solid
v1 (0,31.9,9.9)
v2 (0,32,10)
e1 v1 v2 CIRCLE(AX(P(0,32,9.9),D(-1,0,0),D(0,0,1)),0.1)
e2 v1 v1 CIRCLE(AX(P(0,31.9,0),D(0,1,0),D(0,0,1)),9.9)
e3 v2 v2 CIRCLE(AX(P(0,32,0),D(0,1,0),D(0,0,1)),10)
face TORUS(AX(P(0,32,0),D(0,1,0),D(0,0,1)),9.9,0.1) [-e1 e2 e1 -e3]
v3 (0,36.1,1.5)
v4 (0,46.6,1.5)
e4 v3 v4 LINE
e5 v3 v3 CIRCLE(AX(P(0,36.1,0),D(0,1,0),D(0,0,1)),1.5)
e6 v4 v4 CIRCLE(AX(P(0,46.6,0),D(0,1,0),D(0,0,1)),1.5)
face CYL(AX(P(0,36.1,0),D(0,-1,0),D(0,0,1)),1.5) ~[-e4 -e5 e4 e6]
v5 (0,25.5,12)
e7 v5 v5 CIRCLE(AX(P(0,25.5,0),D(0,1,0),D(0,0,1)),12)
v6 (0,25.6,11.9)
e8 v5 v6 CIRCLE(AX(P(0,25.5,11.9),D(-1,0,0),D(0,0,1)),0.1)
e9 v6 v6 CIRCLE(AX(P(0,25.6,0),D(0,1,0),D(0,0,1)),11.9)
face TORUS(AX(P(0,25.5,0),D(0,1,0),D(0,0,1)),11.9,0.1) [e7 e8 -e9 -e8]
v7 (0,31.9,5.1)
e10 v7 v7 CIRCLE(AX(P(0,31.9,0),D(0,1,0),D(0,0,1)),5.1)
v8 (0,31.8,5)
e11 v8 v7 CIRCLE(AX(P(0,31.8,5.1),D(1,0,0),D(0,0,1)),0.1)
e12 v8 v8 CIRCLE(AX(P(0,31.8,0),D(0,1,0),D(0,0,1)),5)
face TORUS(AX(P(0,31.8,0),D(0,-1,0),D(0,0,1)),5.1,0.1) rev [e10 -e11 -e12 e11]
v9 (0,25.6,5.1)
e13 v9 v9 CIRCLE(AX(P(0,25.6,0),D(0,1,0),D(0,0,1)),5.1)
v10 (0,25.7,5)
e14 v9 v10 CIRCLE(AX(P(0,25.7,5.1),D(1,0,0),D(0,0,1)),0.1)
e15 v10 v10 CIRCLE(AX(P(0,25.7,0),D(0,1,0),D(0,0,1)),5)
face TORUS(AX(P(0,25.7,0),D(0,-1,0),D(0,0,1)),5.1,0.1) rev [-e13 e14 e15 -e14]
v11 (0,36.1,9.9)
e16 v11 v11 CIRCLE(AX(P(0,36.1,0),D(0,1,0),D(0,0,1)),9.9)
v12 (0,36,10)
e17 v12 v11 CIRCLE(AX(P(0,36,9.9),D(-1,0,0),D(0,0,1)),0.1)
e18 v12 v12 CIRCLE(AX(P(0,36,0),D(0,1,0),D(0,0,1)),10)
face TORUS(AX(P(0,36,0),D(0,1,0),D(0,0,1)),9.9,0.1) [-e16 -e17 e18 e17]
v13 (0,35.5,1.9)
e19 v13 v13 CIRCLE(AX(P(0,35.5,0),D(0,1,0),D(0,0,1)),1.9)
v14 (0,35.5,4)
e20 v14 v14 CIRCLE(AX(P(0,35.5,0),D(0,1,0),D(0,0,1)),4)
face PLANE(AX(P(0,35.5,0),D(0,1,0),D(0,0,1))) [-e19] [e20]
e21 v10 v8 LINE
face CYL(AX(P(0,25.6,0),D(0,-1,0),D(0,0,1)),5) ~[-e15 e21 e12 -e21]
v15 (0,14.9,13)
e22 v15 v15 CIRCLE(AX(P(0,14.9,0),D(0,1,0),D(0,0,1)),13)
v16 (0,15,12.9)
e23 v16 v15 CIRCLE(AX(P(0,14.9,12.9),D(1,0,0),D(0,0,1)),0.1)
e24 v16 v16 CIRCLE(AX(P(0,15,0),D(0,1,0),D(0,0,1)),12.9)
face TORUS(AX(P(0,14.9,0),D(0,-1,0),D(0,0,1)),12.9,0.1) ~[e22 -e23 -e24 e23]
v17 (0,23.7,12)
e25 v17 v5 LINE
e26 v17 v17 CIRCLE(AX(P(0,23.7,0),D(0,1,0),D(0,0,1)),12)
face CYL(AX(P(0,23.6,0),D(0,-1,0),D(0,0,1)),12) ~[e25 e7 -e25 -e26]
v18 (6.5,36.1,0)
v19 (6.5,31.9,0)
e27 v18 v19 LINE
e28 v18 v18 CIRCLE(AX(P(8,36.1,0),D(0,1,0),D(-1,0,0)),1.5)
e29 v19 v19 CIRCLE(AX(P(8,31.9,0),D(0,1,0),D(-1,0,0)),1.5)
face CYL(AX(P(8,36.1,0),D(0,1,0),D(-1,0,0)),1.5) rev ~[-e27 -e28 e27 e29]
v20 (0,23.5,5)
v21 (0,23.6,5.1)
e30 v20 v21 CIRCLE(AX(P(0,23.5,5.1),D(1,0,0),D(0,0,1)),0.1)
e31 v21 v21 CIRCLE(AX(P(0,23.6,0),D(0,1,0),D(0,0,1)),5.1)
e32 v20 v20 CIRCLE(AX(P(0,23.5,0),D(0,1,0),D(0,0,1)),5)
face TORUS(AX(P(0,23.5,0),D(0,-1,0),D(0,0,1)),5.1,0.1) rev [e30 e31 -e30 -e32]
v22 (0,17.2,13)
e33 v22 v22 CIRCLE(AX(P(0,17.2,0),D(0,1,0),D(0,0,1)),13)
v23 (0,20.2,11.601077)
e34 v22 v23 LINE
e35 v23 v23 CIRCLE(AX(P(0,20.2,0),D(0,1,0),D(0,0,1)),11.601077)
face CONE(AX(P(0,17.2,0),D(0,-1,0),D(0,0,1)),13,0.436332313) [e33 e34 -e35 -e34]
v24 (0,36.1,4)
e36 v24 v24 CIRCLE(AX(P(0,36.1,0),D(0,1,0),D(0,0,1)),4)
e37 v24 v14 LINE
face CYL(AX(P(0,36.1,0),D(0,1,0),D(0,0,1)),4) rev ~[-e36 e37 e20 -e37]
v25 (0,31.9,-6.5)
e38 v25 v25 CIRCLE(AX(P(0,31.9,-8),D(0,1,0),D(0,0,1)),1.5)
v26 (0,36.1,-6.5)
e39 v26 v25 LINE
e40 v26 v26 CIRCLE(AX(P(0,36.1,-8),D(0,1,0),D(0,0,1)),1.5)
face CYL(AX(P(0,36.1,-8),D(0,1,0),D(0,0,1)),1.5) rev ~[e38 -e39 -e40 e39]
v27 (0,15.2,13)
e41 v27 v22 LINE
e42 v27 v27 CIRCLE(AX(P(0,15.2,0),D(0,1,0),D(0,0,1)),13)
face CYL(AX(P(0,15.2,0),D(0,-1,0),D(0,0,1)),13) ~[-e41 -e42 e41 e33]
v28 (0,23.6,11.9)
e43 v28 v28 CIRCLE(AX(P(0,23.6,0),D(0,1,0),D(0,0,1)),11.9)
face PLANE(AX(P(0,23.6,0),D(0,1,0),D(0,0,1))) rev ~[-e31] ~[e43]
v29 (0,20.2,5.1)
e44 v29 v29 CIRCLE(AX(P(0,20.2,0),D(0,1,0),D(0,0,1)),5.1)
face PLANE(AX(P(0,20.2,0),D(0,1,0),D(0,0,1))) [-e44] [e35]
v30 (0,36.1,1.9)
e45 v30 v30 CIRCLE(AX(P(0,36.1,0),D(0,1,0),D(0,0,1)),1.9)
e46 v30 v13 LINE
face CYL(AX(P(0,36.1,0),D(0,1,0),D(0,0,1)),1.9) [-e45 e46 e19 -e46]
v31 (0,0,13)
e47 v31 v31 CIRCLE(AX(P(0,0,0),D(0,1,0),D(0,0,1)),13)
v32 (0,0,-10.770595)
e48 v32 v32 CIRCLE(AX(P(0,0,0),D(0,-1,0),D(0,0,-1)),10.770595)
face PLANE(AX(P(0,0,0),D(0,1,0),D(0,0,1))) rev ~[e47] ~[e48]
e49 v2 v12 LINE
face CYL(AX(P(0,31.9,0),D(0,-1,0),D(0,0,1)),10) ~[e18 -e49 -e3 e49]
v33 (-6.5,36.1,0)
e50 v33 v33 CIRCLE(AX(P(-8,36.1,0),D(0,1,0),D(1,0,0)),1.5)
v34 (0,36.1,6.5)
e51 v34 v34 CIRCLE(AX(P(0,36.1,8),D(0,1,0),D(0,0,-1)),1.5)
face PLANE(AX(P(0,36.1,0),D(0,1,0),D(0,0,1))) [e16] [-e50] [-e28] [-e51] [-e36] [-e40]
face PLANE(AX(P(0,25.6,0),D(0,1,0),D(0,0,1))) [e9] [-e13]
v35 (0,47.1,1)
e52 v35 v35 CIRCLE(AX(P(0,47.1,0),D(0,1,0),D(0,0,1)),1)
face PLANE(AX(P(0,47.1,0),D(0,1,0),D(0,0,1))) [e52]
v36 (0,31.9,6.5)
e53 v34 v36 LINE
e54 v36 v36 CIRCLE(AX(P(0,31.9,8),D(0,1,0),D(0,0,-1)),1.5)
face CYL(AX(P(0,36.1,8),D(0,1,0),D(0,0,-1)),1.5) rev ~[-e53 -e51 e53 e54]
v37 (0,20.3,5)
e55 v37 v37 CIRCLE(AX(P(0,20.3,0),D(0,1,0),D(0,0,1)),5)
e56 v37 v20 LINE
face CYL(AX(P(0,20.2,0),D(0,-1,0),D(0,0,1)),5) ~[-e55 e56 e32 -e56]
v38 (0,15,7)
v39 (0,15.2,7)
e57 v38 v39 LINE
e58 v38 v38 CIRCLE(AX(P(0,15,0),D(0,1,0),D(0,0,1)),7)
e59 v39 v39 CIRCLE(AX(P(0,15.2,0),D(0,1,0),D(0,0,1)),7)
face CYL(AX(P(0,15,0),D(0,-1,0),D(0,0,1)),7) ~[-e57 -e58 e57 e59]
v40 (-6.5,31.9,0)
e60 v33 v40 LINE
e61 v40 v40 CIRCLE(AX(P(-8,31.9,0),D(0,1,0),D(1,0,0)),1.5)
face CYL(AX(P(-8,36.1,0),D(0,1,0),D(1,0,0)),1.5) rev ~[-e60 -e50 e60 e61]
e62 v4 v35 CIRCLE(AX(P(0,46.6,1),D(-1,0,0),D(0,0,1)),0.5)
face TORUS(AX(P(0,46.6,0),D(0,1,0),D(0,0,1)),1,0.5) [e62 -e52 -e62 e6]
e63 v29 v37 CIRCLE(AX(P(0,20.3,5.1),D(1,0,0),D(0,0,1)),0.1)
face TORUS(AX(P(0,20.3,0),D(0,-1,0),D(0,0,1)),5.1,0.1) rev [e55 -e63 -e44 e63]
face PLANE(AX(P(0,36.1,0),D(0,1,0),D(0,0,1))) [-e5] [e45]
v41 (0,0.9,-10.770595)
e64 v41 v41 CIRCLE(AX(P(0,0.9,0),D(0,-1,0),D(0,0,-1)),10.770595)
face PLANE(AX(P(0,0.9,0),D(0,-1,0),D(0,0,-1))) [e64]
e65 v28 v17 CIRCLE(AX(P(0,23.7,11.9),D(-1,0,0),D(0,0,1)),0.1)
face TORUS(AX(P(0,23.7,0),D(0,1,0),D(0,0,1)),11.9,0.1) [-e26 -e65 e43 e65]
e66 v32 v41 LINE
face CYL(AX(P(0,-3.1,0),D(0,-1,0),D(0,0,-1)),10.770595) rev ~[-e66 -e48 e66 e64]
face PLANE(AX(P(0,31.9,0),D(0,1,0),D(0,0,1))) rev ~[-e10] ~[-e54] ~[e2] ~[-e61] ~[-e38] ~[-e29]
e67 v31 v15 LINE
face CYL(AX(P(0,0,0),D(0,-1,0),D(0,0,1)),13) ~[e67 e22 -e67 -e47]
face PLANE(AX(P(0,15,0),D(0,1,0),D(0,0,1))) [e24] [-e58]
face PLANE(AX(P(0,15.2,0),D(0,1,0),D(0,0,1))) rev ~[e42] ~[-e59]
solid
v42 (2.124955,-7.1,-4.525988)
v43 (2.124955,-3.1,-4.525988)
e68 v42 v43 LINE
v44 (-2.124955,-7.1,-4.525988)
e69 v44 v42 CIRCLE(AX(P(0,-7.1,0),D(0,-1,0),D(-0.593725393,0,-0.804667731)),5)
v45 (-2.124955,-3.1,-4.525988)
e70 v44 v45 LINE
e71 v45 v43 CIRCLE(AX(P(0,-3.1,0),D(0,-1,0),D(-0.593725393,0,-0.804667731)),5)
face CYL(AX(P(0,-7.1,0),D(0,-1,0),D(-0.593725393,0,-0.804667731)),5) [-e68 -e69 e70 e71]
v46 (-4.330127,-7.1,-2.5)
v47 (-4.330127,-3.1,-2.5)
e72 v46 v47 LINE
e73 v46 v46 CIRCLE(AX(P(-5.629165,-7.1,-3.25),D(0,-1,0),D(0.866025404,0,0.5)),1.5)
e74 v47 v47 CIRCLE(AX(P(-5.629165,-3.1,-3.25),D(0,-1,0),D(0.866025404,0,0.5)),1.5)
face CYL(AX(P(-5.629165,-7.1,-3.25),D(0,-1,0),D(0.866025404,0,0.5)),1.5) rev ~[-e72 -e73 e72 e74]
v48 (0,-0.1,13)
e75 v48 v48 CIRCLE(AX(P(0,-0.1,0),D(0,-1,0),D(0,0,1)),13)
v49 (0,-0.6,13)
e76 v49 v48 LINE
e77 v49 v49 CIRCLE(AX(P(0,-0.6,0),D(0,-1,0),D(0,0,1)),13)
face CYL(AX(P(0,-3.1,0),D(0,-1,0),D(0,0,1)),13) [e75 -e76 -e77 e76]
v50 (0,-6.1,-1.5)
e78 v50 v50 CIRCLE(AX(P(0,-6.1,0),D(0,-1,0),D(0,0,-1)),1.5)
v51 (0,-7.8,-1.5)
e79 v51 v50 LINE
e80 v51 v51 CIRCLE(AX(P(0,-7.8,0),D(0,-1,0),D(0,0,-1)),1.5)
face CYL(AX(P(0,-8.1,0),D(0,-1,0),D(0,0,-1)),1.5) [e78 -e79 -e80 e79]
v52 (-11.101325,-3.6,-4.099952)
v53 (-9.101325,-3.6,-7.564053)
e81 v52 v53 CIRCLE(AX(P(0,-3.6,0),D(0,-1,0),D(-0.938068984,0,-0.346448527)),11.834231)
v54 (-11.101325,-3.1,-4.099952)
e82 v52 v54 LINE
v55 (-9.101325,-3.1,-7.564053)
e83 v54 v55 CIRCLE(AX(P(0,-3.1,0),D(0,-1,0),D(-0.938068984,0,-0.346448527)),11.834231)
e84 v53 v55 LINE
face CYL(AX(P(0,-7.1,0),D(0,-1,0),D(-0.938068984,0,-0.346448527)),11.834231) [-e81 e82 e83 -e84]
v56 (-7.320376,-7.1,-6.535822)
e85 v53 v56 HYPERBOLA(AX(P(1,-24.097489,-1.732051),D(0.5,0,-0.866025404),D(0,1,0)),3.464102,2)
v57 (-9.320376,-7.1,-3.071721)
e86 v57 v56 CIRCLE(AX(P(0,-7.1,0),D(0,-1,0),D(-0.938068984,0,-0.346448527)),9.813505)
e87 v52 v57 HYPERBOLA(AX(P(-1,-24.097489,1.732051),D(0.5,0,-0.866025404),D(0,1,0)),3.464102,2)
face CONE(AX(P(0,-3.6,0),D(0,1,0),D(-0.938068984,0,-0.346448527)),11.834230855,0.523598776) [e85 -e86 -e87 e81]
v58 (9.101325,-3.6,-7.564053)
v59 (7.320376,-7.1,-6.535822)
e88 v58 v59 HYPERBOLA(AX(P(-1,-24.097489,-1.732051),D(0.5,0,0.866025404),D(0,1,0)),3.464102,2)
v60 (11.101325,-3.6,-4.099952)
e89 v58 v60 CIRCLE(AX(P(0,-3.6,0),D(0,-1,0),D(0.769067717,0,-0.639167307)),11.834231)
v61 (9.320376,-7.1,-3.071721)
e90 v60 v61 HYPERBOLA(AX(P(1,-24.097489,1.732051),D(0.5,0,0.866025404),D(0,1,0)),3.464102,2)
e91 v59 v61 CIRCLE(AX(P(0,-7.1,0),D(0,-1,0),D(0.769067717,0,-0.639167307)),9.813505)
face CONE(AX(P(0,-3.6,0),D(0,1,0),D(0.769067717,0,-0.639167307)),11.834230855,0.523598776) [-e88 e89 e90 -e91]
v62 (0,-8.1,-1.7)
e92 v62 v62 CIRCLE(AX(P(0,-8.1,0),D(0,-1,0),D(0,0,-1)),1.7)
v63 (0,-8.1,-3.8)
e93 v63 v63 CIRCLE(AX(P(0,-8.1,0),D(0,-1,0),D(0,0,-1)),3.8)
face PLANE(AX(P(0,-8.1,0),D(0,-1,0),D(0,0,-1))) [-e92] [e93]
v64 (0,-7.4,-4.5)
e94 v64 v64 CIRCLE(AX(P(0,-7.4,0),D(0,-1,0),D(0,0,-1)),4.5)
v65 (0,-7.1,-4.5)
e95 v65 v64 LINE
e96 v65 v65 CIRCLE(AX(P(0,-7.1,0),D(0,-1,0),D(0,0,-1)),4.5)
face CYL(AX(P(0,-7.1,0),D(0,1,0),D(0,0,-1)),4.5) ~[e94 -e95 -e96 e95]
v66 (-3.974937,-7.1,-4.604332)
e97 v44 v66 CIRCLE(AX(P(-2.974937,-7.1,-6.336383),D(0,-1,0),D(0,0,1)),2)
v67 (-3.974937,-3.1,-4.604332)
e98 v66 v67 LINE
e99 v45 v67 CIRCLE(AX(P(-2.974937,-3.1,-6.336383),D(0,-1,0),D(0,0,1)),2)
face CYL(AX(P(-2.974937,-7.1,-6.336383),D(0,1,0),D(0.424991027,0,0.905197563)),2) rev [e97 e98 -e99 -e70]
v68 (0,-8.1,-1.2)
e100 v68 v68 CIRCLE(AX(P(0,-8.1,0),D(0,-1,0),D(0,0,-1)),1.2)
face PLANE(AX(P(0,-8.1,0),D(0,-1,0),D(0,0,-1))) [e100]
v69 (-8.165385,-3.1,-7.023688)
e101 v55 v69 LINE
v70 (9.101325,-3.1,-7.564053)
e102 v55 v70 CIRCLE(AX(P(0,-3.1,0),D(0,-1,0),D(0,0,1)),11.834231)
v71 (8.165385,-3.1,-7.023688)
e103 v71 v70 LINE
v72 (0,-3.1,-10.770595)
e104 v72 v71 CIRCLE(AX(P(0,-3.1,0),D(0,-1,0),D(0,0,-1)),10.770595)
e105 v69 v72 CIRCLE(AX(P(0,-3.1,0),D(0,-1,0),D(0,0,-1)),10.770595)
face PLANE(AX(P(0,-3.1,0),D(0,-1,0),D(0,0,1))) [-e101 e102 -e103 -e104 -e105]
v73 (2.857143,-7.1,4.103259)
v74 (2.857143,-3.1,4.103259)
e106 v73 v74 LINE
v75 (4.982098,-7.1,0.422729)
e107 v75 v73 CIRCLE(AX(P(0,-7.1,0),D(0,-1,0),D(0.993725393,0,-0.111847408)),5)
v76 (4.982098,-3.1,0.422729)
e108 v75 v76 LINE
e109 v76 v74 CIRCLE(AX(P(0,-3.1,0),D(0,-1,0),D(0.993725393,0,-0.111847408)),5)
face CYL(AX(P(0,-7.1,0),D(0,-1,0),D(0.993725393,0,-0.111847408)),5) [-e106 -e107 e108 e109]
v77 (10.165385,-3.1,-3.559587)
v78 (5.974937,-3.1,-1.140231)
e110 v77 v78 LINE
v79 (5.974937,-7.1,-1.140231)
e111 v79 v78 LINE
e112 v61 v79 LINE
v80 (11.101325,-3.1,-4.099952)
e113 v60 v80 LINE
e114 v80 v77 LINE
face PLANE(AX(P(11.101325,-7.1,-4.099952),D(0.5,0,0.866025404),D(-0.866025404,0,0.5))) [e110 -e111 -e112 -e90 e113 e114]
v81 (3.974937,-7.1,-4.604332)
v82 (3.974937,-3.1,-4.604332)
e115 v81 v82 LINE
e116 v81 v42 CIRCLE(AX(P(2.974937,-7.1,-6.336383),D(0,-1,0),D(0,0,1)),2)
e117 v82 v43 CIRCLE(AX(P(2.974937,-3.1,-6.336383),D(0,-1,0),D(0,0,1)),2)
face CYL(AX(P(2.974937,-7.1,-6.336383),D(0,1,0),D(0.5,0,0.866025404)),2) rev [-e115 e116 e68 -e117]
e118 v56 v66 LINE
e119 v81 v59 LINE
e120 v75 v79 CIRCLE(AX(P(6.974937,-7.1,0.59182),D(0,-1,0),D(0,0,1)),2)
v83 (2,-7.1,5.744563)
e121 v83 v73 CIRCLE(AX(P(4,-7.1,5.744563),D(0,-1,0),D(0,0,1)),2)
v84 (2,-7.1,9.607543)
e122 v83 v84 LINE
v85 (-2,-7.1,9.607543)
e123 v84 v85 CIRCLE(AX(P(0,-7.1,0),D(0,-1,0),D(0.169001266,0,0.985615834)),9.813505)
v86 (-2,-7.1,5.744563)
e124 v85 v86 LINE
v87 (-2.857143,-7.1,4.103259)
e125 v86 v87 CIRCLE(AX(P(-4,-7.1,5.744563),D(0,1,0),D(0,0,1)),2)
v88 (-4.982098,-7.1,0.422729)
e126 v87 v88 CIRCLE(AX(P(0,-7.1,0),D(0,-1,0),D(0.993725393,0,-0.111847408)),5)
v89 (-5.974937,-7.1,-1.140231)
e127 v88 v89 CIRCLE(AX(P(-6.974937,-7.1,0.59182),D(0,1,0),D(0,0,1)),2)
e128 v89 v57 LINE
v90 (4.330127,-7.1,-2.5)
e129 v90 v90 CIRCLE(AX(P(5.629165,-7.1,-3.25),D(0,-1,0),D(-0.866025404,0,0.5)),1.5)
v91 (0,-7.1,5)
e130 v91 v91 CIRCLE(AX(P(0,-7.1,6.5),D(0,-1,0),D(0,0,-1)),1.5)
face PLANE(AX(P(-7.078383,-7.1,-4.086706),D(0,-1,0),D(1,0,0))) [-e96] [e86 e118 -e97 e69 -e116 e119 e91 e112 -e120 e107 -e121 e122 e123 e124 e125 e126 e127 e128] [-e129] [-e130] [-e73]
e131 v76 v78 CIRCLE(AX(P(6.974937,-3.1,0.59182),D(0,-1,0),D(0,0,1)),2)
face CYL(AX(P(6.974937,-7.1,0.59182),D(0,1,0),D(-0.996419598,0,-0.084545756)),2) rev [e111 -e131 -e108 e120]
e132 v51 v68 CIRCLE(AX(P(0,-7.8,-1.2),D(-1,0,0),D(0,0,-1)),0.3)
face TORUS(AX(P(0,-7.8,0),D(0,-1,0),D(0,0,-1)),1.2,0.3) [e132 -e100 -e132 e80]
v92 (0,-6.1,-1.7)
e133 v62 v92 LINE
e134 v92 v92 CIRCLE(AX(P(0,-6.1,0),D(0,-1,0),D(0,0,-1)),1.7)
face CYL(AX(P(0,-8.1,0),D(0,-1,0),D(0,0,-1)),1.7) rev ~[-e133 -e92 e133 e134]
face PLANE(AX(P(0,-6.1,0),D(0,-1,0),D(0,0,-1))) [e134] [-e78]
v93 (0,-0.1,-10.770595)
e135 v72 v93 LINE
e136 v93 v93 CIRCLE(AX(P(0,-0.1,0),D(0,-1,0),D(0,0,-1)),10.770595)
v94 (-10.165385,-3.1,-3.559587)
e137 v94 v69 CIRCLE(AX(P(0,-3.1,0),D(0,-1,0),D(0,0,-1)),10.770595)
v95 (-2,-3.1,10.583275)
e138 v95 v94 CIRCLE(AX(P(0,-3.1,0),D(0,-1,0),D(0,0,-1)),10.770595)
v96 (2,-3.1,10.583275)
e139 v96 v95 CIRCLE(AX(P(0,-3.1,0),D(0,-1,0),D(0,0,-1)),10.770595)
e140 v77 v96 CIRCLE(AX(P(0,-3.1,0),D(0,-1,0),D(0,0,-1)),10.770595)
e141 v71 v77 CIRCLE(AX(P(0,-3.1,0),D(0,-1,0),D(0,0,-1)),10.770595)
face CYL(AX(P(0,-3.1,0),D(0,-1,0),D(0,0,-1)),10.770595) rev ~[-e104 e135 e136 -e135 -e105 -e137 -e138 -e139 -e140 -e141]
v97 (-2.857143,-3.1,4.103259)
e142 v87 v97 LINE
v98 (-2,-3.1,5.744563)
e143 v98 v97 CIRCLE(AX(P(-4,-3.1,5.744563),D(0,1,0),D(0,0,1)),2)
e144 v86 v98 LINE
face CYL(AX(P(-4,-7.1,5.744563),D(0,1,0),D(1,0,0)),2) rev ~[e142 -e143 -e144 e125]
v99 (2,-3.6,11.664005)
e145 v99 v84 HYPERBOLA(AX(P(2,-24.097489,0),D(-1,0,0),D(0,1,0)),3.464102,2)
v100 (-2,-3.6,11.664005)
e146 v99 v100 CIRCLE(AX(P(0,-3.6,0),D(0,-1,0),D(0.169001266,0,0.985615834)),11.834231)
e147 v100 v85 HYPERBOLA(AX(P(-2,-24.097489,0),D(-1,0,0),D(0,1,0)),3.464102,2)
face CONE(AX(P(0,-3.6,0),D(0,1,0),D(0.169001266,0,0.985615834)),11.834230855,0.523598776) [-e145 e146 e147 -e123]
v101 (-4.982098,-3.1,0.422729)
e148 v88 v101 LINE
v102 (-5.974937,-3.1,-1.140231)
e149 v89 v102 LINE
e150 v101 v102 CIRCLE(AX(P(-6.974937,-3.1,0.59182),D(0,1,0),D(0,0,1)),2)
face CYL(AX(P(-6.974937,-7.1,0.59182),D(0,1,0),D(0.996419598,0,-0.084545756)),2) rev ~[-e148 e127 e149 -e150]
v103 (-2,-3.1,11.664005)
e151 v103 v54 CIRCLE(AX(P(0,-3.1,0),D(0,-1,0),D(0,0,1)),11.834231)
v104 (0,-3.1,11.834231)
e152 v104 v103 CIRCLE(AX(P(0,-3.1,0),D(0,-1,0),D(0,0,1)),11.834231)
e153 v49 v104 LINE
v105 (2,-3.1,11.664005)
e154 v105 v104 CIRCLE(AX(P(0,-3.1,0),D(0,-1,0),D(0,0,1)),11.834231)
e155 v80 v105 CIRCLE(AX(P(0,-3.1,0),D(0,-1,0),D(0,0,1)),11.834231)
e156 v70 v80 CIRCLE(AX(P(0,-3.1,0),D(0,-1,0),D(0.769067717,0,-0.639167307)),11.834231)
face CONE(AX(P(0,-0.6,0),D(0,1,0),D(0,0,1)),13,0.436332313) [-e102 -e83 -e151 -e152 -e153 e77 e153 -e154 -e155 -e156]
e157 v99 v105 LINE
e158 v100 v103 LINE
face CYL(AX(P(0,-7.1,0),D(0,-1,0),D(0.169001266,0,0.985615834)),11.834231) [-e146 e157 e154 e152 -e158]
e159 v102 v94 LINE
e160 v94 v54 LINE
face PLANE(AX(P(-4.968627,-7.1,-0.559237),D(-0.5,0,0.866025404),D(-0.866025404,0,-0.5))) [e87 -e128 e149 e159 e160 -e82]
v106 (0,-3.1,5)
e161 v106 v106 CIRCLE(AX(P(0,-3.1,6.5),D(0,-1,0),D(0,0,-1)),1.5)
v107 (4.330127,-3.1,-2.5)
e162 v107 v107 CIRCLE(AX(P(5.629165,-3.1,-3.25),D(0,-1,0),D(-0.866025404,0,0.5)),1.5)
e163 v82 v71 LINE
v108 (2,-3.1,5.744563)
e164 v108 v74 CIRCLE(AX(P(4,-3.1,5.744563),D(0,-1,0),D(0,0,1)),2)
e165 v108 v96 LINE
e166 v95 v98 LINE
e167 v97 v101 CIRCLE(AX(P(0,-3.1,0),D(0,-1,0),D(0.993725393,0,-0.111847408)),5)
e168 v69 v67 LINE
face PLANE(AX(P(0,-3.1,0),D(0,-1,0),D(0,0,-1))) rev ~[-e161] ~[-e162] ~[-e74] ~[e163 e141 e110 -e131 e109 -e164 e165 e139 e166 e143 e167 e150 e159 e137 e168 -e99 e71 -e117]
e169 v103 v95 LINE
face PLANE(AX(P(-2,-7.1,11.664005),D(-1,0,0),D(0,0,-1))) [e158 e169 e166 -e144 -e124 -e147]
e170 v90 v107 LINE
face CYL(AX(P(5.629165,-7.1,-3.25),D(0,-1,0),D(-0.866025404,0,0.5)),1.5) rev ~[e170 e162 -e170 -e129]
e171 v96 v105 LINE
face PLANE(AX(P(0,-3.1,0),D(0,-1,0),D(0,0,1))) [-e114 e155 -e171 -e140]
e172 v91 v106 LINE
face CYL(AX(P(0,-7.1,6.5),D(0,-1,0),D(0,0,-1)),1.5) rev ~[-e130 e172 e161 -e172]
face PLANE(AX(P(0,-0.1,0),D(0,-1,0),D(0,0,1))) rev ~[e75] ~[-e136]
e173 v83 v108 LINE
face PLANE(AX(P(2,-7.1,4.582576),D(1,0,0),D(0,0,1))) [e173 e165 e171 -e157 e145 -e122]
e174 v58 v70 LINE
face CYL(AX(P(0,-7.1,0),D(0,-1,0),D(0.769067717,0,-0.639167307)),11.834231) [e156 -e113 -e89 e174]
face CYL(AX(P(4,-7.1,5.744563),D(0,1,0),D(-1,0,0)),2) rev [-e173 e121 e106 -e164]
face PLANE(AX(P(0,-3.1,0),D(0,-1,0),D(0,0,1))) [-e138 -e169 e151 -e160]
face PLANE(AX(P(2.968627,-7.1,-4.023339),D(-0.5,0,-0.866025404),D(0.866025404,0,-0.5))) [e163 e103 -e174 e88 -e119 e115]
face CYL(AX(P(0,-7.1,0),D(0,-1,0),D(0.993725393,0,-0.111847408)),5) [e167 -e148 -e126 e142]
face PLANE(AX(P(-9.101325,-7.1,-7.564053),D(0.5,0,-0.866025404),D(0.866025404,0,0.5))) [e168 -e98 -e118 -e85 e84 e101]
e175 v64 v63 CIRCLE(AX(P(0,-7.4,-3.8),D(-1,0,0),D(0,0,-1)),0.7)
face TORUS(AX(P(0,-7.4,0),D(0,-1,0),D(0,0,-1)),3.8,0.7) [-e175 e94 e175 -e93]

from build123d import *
from OCP.BRepFilletAPI import BRepFilletAPI_MakeChamfer

# Parameters (mm, degrees)
SKETCH1_R            = 13
BOSS_EXTRUDE1_DEPTH  = 15
SKETCH2_R            = 7
BOSS_EXTRUDE2_DEPTH  = 0.2
SKETCH4_R            = 13.000000000000004
BOSS_EXTRUDE3_DEPTH  = 5
SKETCH5_R            = 5
BOSS_EXTRUDE4_DEPTH  = 3.4
SKETCH6_R            = 12
BOSS_EXTRUDE5_DEPTH  = 2
SKETCH7_R            = 5
BOSS_EXTRUDE6_DEPTH  = 6.3
SKETCH8_R            = 10
BOSS_EXTRUDE7_DEPTH  = 4.2
CHAMFER1_SIZE        = 3
CHAMFER1_SIZE2       = 1.3989229744649996
FILLET1_R            = 0.1
SKETCH9_R            = 8.463574214087313
BOSS_EXTRUDE8_DEPTH  = 0.1
BOSS_EXTRUDE9_START  = 3
SKETCH10_R           = 13.000000000000004
BOSS_EXTRUDE9_DEPTH  = 3
CHAMFER2_SIZE        = 2.5
CHAMFER2_SIZE2       = 1.1657691453874992
BOSS_EXTRUDE10_START = 4
BOSS_EXTRUDE10_DEPTH = 4
CHAMFER3_SIZE        = 3.5
CHAMFER3_SIZE2       = 2.0207259421636956
SKETCH13_R           = 10.77059477245057
CUT_EXTRUDE1_DEPTH   = 4
SKETCH14_R           = 4.5
BOSS_EXTRUDE11_DEPTH = 1
FILLET2_R            = 0.7
FILLET3_R            = 2
SKETCH15_R           = 1.5000000000000002
CUT_EXTRUDE2_DEPTH   = 4
CIRPATTERN1_COUNT    = 3
SKETCH16_R           = 1.7
SKETCH16_R_2         = 1.5
CUT_EXTRUDE3_DEPTH   = 2
FILLET4_R            = 0.3
SKETCH17_R           = 4
SKETCH17_R_2         = 1.9
CUT_EXTRUDE4_DEPTH   = 0.6
SKETCH18_R           = 1.5
BOSS_EXTRUDE12_DEPTH = 11
FILLET5_R            = 0.5
SKETCH19_R           = 1.4999999999999998
CUT_EXTRUDE5_DEPTH   = 5
CIRPATTERN2_COUNT    = 4


with BuildPart() as part:
    # Sketch1 → Boss-Extrude1 (new body)
    with BuildSketch(Plane(origin=(0, 0, 0), x_dir=(1, 0, 0), z_dir=(0, 1, 0))):
        with Locations(Location((0, 0, 0), (0, 0, 270))):
            Circle(SKETCH1_R)
    extrude(amount=BOSS_EXTRUDE1_DEPTH)

    # Sketch2 → Boss-Extrude2 (add)
    with BuildSketch(Plane(origin=(0, 15, 0), x_dir=(1, 0, 0), z_dir=(0, 1, 0))):
        with Locations(Location((0, 0, 0), (0, 0, 270))):
            Circle(SKETCH2_R)
    extrude(amount=BOSS_EXTRUDE2_DEPTH)

    # Sketch4 → Boss-Extrude3 (add)
    with BuildSketch(Plane(origin=(0, 15.2, 0), x_dir=(1, 0, 0), z_dir=(0, 1, 0))):
        with Locations(Location((0, 0, 0), (0, 0, 270))):
            Circle(SKETCH4_R)
    extrude(amount=BOSS_EXTRUDE3_DEPTH)

    # Sketch5 → Boss-Extrude4 (add)
    with BuildSketch(Plane(origin=(0, 20.2, 0), x_dir=(1, 0, 0), z_dir=(0, 1, 0))):
        with Locations(Location((0, 0, 0), (0, 0, 270))):
            Circle(SKETCH5_R)
    extrude(amount=BOSS_EXTRUDE4_DEPTH)

    # Sketch6 → Boss-Extrude5 (add)
    with BuildSketch(Plane(origin=(0, 23.599999999999998, 0), x_dir=(1, 0, 0), z_dir=(0, 1, 0))):
        with Locations(Location((0, 0, 0), (0, 0, 270))):
            Circle(SKETCH6_R)
    extrude(amount=BOSS_EXTRUDE5_DEPTH)

    # Sketch7 → Boss-Extrude6 (add)
    with BuildSketch(Plane(origin=(0, 25.599999999999998, 0), x_dir=(1, 0, 0), z_dir=(0, 1, 0))):
        with Locations(Location((0, 0, 0), (0, 0, 270))):
            Circle(SKETCH7_R)
    extrude(amount=BOSS_EXTRUDE6_DEPTH)

    # Sketch8 → Boss-Extrude7 (add)
    with BuildSketch(Plane(origin=(0, 31.9, 0), x_dir=(1, 0, 0), z_dir=(0, 1, 0))):
        with Locations(Location((0, 0, 0), (0, 0, 270))):
            Circle(SKETCH8_R)
    extrude(amount=BOSS_EXTRUDE7_DEPTH)

    # Chamfer1
    chamfer1_edges = [part.edges().sort_by_distance(p)[0] for p in [
        (3.98e-15, 20.2, -13.000000000000004),
    ]]
    chamfer1_side = [part.faces().sort_by_distance(p)[0] for p in [
        (3.98e-15, 17.7, -13.000000000000004),
    ]]
    chamfer(chamfer1_edges, length=CHAMFER1_SIZE, length2=CHAMFER1_SIZE2, reference=chamfer1_side[0])

    # Fillet1
    fillet1_edges = [part.edges().sort_by_distance(p)[0] for p in [
        (1.53e-15, 20.2, -5),
        (1.53e-15, 23.599999999999998, -5),
        (3.67e-15, 23.599999999999998, -12),
        (3.67e-15, 25.599999999999998, -12),
        (1.53e-15, 25.599999999999998, -5),
        (1.53e-15, 31.9, -5),
        (3.06e-15, 31.9, -10),
        (3.06e-15, 36.1, -10),
        (-1.79e-15, 15, -13),
    ]]
    fillet(fillet1_edges, radius=FILLET1_R)

    # Sketch9 → Boss-Extrude8 (add)
    with BuildSketch(Plane.XZ):
        with Locations(Location((0, 0, 0), (0, 0, 270))):
            Circle(SKETCH9_R)
    extrude(amount=BOSS_EXTRUDE8_DEPTH)

    # Sketch10 → Boss-Extrude9 (add)
    with BuildSketch(Plane.XZ.offset(0.1).offset(BOSS_EXTRUDE9_START)):
        with Locations(Location((0, 0, 0), (0, 0, 90))):
            Circle(SKETCH10_R)
    extrude(amount=-BOSS_EXTRUDE9_DEPTH)

    # Chamfer2
    chamfer2_edges = [part.edges().sort_by_distance(p)[0] for p in [
        (-2.39e-15, -3.1, -13.000000000000004),
    ]]
    chamfer2_side = [part.faces().sort_by_distance(p)[0] for p in [
        (-2.39e-15, -1.6, -13.000000000000004),
    ]]
    chamfer(chamfer2_edges, length=CHAMFER2_SIZE, length2=CHAMFER2_SIZE2, reference=chamfer2_side[0])

    # Sketch12 → Boss-Extrude10 (add)
    with BuildSketch(Plane.XZ.offset(3.1).offset(BOSS_EXTRUDE10_START)):
        with BuildLine():
            Line((-4.968626966596926, -0.5592370399090334), (-11.10132491013915, -4.099951848471753))
            ThreePointArc((-11.1013249101391, -4.099951848471809), (-10.713631015383742, -5.026642058717716), (-10.248744788504228, -5.917115021728898))
            ThreePointArc((-10.248744788504228, -5.917115021728898), (-9.710015493984855, -6.764955212478231), (-9.101324910139237, -7.564053463609399))
            Line((-9.101324910139185, -7.56405346360953), (-2.9686269665968643, -4.023338655046755))
            ThreePointArc((-2.96862696659685, -4.023338655046824), (-4.330127018922175, -2.5000000000000315), (-4.968626966596883, -0.5592370399090708))
        make_face()
        with BuildLine():
            Line((-2.0000000000000036, 1.1547005383792586), (-4.968626966596926, -0.5592370399090334))
            ThreePointArc((-4.968626966596883, -0.5592370399090708), (-4.330127018922175, -2.5000000000000315), (-2.96862696659685, -4.023338655046824))
            Line((-2.9686269665968643, -4.023338655046755), (-3.55e-15, -2.3094010767584994))
            Line((-5.33e-15, -2.3094010767585016), (-1.000000000000002, -1.7320508075688765))
            Line((-1.000000000000002, -1.7320508075688765), (4.4e-16, 2.2e-16))
            Line((0, 2.3e-16), (-2, -1e-17))
            Line((-2, -1e-17), (-2, 1.15470053837926))
        make_face()
        with BuildLine():
            Line((-3.55e-15, -2.3094010767584994), (-2.9686269665968643, -4.023338655046755))
            ThreePointArc((-2.96862696659685, -4.023338655046824), (-1.868e-14, -5), (2.96862696659682, -4.023338655046846))
            Line((2.968626966596837, -4.023338655046775), (-5.33e-15, -2.3094010767585016))
        make_face()
        with BuildLine():
            Line((0.9999999999999911, -1.7320508075688847), (-3.55e-15, -2.3094010767584994))
            Line((-5.33e-15, -2.3094010767585016), (2.968626966596837, -4.023338655046775))
            ThreePointArc((2.96862696659682, -4.023338655046846), (4.330127018922203, -2.499999999999983), (4.968626966596899, -0.559237039908927))
            Line((4.968626966596811, -0.5592370399090061), (2.0000000000000027, 1.1547005383792481))
            Line((2.000000000000002, 1.1547005383792481), (2.0000000000000027, 4.8e-16))
            Line((2.0000000000000027, 4.8e-16), (0, 2.3e-16))
            Line((2.2e-16, -2.2e-16), (0.9999999999999907, -1.7320508075688847))
        make_face()
        with BuildLine():
            Line((2.968626966596837, -4.023338655046775), (9.10132491013913, -7.564053463609591))
            ThreePointArc((9.101324910139173, -7.564053463609475), (9.710015458843332, -6.76495526291829), (10.248744727029683, -5.917115128205941))
            ThreePointArc((10.248744727029683, -5.917115128205941), (10.713630989272133, -5.026642114371199), (11.101324910139066, -4.0999518484719015))
            Line((11.101324910139121, -4.099951848471832), (4.968626966596811, -0.5592370399090061))
            ThreePointArc((4.968626966596899, -0.559237039908927), (4.330127018922203, -2.499999999999983), (2.96862696659682, -4.023338655046846))
        make_face()
        Polygon((-1.000000000000002, -1.7320508075688765), (-5.33e-15, -2.3094010767585016), (0.9999999999999911, -1.7320508075688847), (2.2e-16, -2.2e-16), align=None)
        Polygon((1.000000000000002, 1.7320508075688756), (4.4e-16, 2.2e-16), (2.0000000000000027, 4.8e-16), (2.000000000000002, 1.1547005383792481), align=None)
        with BuildLine():
            ThreePointArc((5, 0), (4.183300132670404, 2.738612787525792), (2.0000000000000853, 4.5825756949558025))
            Line((2.0000000000000018, 4.582575694955776), (2.000000000000002, 1.1547005383792481))
            Line((2.0000000000000027, 1.1547005383792481), (4.968626966596811, -0.5592370399090061))
            ThreePointArc((4.968626966596899, -0.559237039908927), (4.992150580310278, -0.28005817879104034), (5, -1.22e-15))
        make_face()
        with BuildLine():
            Line((-2, 4.582575694955866), (-2, 1.15470053837926))
            Line((-2.0000000000000036, 1.1547005383792586), (-0.9999999999999911, 1.7320508075688839))
            Line((-0.9999999999999902, 1.7320508075688843), (2.2e-16, -2.2e-16))
            Line((4.4e-16, 2.2e-16), (1.000000000000002, 1.7320508075688756))
            Line((1.000000000000002, 1.7320508075688756), (2.0000000000000027, 1.1547005383792481))
            Line((2.000000000000002, 1.1547005383792481), (2.0000000000000018, 4.582575694955776))
            ThreePointArc((2.0000000000000853, 4.5825756949558025), (6.47e-14, 5), (-1.9999999999999662, 4.582575694955855))
        make_face()
        with BuildLine():
            ThreePointArc((-1.9999999999999662, 4.582575694955855), (-4.330127018922191, 2.500000000000004), (-4.968626966596883, -0.5592370399090708))
            Line((-4.968626966596926, -0.5592370399090334), (-2.0000000000000036, 1.1547005383792586))
            Line((-2, 1.15470053837926), (-2, 4.582575694955866))
        make_face()
        with BuildLine():
            ThreePointArc((5.853e-14, 11.834230854612493), (-1.0036155557942605, 11.791597675312286), (-1.9999999999997802, 11.664005312081404))
            Line((-2, 11.66400531208144), (-2, 4.582575694955866))
            ThreePointArc((-1.9999999999999662, 4.582575694955855), (6.47e-14, 5), (2.0000000000000853, 4.5825756949558025))
            Line((2.0000000000000018, 4.582575694955776), (2, 11.664005312081269))
            ThreePointArc((2.0000000000002918, 11.664005312081317), (1.0036155557945787, 11.791597675312259), (5.853e-14, 11.834230854612493))
        make_face()
        Polygon((-0.9999999999999911, 1.7320508075688839), (-2.0000000000000036, 1.1547005383792586), (-2, -1e-17), (0, 2.3e-16), align=None)
    extrude(amount=-BOSS_EXTRUDE10_DEPTH)

    # Chamfer3: one chamfer whose edges measure the first distance from different faces: ONE call of the kernel's chamfer builder (chamfer() names one face for all edges)
    chamfer3_edges_1 = [part.edges().sort_by_distance(p)[0] for p in [
        (10.248744554344045, -7.1, -5.917115427306248),
    ]]
    chamfer3_side_1 = [part.faces().sort_by_distance(p)[0] for p in [
        (10.248744554344047, -5.1, -5.917115427306248),
    ]]
    chamfer3_edges_2 = [part.edges().sort_by_distance(p)[0] for p in [
        (1.3683e-13, -7.1, 11.834230854612489),
    ]]
    chamfer3_side_2 = [part.faces().sort_by_distance(p)[0] for p in [
        (2.936e-13, -5.1, 11.834230854612489),
    ]]
    chamfer3_edges_3 = [part.edges().sort_by_distance(p)[0] for p in [
        (-10.24874455434409, -7.1, -5.917115427306171),
    ]]
    chamfer3_side_3 = [part.faces().sort_by_distance(p)[0] for p in [
        (-10.24874455434409, -5.1, -5.9171154273061735),
    ]]
    chamfer3 = BRepFilletAPI_MakeChamfer(part.part.solid().wrapped)
    for e in chamfer3_edges_1:
        chamfer3.Add(CHAMFER3_SIZE, CHAMFER3_SIZE2, e.wrapped, chamfer3_side_1[0].wrapped)  # the first distance lies on this face
    for e in chamfer3_edges_2:
        chamfer3.Add(CHAMFER3_SIZE, CHAMFER3_SIZE2, e.wrapped, chamfer3_side_2[0].wrapped)  # the first distance lies on this face
    for e in chamfer3_edges_3:
        chamfer3.Add(CHAMFER3_SIZE, CHAMFER3_SIZE2, e.wrapped, chamfer3_side_3[0].wrapped)  # the first distance lies on this face
    add(Compound.cast(chamfer3.Shape()), mode=Mode.REPLACE)

    # Sketch13 → Cut-Extrude1 (cut)
    with BuildSketch(Plane.XZ.offset(3.1)):
        with Locations(Location((0, 0, 0), (0, 0, 270))):
            Circle(SKETCH13_R)
    extrude(amount=-CUT_EXTRUDE1_DEPTH, mode=Mode.SUBTRACT)


with BuildPart() as cut_extrude1_piece_1:
    # of the separate pieces the step leaves, piece 1, a body of its own (cut_extrude1_pieces)
    add(part.part.solids().sort_by_distance((0, 0, 13))[0])

    # Sketch17 → Cut-Extrude4 (cut)
    with BuildSketch(Plane(origin=(0, 36.1, 0), x_dir=(1, 0, 0), z_dir=(0, 1, 0))):
        with Locations(Location((0, 0, 0), (0, 0, 270))):
            Circle(SKETCH17_R)
        with Locations(Location((0, 0, 0), (0, 0, 270))):
            Circle(SKETCH17_R_2, mode=Mode.SUBTRACT)
    extrude(amount=-CUT_EXTRUDE4_DEPTH, mode=Mode.SUBTRACT)

    # Sketch18 → Boss-Extrude12 (add)
    with BuildSketch(Plane(origin=(0, 36.1, 0), x_dir=(1, 0, 0), z_dir=(0, 1, 0))):
        with Locations(Location((0, 0, 0), (0, 0, 270))):
            Circle(SKETCH18_R)
    extrude(amount=BOSS_EXTRUDE12_DEPTH)

    # Fillet5
    fillet5_edges = [cut_extrude1_piece_1.edges().sort_by_distance(p)[0] for p in [
        (4.6e-16, 47.1, -1.5),
    ]]
    fillet(fillet5_edges, radius=FILLET5_R)

    # Sketch19 → Cut-Extrude5 (cut)
    with BuildSketch(Plane(origin=(0, 36.1, 0), x_dir=(1, 0, 0), z_dir=(0, 1, 0))):
        with Locations(Location((0, 8, 0), (0, 0, 270))):
            Circle(SKETCH19_R)
    cut_extrude5 = extrude(amount=-CUT_EXTRUDE5_DEPTH, mode=Mode.SUBTRACT)

    # CirPattern2: Cut-Extrude5 ×4 about axis
    cirpattern2_axis = Axis((-1.397e-14, 0, 0), (0, 1, 0))
    for i in range(1, CIRPATTERN2_COUNT):
        add(cut_extrude5.rotate(cirpattern2_axis, i * 360 / CIRPATTERN2_COUNT), mode=Mode.SUBTRACT)


with BuildPart() as cut_extrude1_piece_2:
    # of the separate pieces the step leaves, piece 2, a body of its own (cut_extrude1_pieces)
    add(part.part.solids().sort_by_distance((2, -3.6, 11.664005312))[0])

    # Sketch14 → Boss-Extrude11 (add)
    with BuildSketch(Plane.XZ.offset(7.1000000000000005)):
        with Locations(Location((0, 0, 0), (0, 0, 270))):
            Circle(SKETCH14_R)
    extrude(amount=BOSS_EXTRUDE11_DEPTH)

    # Fillet2
    fillet2_edges = [cut_extrude1_piece_2.edges().sort_by_distance(p)[0] for p in [
        (1.38e-15, -8.100000000000001, 4.5),
    ]]
    fillet(fillet2_edges, radius=FILLET2_R)

    # Fillet3
    fillet3_edges = [cut_extrude1_piece_2.edges().sort_by_distance(p)[0] for p in [
        (-2.968626966596857, -5.1, -4.023338655046789),
        (2.968626966596829, -5.1, -4.02333865504681),
        (4.9686269665968545, -5.1, -0.5592370399089666),
        (2.0000000000000435, -5.1, 4.582575694955789),
        (-1.9999999999999831, -5.1, 4.58257569495586),
        (-4.968626966596904, -5.1, -0.5592370399090523),
    ]]
    fillet(fillet3_edges, radius=FILLET3_R)

    # Sketch15 → Cut-Extrude2 (cut)
    with BuildSketch(Plane.XZ.offset(7.1000000000000005)):
        with Locations(Location((0, 6.5, 0), (0, 0, 270))):
            Circle(SKETCH15_R)
    cut_extrude2 = extrude(amount=-CUT_EXTRUDE2_DEPTH, mode=Mode.SUBTRACT)

    # CirPattern1: Cut-Extrude2 ×3 about axis
    cirpattern1_axis = Axis((-9e-17, 0, -3.4e-16), (0, 1, 0))
    for i in range(1, CIRPATTERN1_COUNT):
        add(cut_extrude2.rotate(cirpattern1_axis, i * 360 / CIRPATTERN1_COUNT), mode=Mode.SUBTRACT)

    # Sketch16 → Cut-Extrude3 (cut)
    with BuildSketch(Plane.XZ.offset(8.1)):
        with Locations(Location((0, 0, 0), (0, 0, 270))):
            Circle(SKETCH16_R)
        with Locations(Location((0, 0, 0), (0, 0, 270))):
            Circle(SKETCH16_R_2, mode=Mode.SUBTRACT)
    extrude(amount=-CUT_EXTRUDE3_DEPTH, mode=Mode.SUBTRACT)

    # Fillet4
    fillet4_edges = [cut_extrude1_piece_2.edges().sort_by_distance(p)[0] for p in [
        (4.6e-16, -8.1, 1.5),
    ]]
    fillet(fillet4_edges, radius=FILLET4_R)


solid = Compound([cut_extrude1_piece_1.part, cut_extrude1_piece_2.part])
